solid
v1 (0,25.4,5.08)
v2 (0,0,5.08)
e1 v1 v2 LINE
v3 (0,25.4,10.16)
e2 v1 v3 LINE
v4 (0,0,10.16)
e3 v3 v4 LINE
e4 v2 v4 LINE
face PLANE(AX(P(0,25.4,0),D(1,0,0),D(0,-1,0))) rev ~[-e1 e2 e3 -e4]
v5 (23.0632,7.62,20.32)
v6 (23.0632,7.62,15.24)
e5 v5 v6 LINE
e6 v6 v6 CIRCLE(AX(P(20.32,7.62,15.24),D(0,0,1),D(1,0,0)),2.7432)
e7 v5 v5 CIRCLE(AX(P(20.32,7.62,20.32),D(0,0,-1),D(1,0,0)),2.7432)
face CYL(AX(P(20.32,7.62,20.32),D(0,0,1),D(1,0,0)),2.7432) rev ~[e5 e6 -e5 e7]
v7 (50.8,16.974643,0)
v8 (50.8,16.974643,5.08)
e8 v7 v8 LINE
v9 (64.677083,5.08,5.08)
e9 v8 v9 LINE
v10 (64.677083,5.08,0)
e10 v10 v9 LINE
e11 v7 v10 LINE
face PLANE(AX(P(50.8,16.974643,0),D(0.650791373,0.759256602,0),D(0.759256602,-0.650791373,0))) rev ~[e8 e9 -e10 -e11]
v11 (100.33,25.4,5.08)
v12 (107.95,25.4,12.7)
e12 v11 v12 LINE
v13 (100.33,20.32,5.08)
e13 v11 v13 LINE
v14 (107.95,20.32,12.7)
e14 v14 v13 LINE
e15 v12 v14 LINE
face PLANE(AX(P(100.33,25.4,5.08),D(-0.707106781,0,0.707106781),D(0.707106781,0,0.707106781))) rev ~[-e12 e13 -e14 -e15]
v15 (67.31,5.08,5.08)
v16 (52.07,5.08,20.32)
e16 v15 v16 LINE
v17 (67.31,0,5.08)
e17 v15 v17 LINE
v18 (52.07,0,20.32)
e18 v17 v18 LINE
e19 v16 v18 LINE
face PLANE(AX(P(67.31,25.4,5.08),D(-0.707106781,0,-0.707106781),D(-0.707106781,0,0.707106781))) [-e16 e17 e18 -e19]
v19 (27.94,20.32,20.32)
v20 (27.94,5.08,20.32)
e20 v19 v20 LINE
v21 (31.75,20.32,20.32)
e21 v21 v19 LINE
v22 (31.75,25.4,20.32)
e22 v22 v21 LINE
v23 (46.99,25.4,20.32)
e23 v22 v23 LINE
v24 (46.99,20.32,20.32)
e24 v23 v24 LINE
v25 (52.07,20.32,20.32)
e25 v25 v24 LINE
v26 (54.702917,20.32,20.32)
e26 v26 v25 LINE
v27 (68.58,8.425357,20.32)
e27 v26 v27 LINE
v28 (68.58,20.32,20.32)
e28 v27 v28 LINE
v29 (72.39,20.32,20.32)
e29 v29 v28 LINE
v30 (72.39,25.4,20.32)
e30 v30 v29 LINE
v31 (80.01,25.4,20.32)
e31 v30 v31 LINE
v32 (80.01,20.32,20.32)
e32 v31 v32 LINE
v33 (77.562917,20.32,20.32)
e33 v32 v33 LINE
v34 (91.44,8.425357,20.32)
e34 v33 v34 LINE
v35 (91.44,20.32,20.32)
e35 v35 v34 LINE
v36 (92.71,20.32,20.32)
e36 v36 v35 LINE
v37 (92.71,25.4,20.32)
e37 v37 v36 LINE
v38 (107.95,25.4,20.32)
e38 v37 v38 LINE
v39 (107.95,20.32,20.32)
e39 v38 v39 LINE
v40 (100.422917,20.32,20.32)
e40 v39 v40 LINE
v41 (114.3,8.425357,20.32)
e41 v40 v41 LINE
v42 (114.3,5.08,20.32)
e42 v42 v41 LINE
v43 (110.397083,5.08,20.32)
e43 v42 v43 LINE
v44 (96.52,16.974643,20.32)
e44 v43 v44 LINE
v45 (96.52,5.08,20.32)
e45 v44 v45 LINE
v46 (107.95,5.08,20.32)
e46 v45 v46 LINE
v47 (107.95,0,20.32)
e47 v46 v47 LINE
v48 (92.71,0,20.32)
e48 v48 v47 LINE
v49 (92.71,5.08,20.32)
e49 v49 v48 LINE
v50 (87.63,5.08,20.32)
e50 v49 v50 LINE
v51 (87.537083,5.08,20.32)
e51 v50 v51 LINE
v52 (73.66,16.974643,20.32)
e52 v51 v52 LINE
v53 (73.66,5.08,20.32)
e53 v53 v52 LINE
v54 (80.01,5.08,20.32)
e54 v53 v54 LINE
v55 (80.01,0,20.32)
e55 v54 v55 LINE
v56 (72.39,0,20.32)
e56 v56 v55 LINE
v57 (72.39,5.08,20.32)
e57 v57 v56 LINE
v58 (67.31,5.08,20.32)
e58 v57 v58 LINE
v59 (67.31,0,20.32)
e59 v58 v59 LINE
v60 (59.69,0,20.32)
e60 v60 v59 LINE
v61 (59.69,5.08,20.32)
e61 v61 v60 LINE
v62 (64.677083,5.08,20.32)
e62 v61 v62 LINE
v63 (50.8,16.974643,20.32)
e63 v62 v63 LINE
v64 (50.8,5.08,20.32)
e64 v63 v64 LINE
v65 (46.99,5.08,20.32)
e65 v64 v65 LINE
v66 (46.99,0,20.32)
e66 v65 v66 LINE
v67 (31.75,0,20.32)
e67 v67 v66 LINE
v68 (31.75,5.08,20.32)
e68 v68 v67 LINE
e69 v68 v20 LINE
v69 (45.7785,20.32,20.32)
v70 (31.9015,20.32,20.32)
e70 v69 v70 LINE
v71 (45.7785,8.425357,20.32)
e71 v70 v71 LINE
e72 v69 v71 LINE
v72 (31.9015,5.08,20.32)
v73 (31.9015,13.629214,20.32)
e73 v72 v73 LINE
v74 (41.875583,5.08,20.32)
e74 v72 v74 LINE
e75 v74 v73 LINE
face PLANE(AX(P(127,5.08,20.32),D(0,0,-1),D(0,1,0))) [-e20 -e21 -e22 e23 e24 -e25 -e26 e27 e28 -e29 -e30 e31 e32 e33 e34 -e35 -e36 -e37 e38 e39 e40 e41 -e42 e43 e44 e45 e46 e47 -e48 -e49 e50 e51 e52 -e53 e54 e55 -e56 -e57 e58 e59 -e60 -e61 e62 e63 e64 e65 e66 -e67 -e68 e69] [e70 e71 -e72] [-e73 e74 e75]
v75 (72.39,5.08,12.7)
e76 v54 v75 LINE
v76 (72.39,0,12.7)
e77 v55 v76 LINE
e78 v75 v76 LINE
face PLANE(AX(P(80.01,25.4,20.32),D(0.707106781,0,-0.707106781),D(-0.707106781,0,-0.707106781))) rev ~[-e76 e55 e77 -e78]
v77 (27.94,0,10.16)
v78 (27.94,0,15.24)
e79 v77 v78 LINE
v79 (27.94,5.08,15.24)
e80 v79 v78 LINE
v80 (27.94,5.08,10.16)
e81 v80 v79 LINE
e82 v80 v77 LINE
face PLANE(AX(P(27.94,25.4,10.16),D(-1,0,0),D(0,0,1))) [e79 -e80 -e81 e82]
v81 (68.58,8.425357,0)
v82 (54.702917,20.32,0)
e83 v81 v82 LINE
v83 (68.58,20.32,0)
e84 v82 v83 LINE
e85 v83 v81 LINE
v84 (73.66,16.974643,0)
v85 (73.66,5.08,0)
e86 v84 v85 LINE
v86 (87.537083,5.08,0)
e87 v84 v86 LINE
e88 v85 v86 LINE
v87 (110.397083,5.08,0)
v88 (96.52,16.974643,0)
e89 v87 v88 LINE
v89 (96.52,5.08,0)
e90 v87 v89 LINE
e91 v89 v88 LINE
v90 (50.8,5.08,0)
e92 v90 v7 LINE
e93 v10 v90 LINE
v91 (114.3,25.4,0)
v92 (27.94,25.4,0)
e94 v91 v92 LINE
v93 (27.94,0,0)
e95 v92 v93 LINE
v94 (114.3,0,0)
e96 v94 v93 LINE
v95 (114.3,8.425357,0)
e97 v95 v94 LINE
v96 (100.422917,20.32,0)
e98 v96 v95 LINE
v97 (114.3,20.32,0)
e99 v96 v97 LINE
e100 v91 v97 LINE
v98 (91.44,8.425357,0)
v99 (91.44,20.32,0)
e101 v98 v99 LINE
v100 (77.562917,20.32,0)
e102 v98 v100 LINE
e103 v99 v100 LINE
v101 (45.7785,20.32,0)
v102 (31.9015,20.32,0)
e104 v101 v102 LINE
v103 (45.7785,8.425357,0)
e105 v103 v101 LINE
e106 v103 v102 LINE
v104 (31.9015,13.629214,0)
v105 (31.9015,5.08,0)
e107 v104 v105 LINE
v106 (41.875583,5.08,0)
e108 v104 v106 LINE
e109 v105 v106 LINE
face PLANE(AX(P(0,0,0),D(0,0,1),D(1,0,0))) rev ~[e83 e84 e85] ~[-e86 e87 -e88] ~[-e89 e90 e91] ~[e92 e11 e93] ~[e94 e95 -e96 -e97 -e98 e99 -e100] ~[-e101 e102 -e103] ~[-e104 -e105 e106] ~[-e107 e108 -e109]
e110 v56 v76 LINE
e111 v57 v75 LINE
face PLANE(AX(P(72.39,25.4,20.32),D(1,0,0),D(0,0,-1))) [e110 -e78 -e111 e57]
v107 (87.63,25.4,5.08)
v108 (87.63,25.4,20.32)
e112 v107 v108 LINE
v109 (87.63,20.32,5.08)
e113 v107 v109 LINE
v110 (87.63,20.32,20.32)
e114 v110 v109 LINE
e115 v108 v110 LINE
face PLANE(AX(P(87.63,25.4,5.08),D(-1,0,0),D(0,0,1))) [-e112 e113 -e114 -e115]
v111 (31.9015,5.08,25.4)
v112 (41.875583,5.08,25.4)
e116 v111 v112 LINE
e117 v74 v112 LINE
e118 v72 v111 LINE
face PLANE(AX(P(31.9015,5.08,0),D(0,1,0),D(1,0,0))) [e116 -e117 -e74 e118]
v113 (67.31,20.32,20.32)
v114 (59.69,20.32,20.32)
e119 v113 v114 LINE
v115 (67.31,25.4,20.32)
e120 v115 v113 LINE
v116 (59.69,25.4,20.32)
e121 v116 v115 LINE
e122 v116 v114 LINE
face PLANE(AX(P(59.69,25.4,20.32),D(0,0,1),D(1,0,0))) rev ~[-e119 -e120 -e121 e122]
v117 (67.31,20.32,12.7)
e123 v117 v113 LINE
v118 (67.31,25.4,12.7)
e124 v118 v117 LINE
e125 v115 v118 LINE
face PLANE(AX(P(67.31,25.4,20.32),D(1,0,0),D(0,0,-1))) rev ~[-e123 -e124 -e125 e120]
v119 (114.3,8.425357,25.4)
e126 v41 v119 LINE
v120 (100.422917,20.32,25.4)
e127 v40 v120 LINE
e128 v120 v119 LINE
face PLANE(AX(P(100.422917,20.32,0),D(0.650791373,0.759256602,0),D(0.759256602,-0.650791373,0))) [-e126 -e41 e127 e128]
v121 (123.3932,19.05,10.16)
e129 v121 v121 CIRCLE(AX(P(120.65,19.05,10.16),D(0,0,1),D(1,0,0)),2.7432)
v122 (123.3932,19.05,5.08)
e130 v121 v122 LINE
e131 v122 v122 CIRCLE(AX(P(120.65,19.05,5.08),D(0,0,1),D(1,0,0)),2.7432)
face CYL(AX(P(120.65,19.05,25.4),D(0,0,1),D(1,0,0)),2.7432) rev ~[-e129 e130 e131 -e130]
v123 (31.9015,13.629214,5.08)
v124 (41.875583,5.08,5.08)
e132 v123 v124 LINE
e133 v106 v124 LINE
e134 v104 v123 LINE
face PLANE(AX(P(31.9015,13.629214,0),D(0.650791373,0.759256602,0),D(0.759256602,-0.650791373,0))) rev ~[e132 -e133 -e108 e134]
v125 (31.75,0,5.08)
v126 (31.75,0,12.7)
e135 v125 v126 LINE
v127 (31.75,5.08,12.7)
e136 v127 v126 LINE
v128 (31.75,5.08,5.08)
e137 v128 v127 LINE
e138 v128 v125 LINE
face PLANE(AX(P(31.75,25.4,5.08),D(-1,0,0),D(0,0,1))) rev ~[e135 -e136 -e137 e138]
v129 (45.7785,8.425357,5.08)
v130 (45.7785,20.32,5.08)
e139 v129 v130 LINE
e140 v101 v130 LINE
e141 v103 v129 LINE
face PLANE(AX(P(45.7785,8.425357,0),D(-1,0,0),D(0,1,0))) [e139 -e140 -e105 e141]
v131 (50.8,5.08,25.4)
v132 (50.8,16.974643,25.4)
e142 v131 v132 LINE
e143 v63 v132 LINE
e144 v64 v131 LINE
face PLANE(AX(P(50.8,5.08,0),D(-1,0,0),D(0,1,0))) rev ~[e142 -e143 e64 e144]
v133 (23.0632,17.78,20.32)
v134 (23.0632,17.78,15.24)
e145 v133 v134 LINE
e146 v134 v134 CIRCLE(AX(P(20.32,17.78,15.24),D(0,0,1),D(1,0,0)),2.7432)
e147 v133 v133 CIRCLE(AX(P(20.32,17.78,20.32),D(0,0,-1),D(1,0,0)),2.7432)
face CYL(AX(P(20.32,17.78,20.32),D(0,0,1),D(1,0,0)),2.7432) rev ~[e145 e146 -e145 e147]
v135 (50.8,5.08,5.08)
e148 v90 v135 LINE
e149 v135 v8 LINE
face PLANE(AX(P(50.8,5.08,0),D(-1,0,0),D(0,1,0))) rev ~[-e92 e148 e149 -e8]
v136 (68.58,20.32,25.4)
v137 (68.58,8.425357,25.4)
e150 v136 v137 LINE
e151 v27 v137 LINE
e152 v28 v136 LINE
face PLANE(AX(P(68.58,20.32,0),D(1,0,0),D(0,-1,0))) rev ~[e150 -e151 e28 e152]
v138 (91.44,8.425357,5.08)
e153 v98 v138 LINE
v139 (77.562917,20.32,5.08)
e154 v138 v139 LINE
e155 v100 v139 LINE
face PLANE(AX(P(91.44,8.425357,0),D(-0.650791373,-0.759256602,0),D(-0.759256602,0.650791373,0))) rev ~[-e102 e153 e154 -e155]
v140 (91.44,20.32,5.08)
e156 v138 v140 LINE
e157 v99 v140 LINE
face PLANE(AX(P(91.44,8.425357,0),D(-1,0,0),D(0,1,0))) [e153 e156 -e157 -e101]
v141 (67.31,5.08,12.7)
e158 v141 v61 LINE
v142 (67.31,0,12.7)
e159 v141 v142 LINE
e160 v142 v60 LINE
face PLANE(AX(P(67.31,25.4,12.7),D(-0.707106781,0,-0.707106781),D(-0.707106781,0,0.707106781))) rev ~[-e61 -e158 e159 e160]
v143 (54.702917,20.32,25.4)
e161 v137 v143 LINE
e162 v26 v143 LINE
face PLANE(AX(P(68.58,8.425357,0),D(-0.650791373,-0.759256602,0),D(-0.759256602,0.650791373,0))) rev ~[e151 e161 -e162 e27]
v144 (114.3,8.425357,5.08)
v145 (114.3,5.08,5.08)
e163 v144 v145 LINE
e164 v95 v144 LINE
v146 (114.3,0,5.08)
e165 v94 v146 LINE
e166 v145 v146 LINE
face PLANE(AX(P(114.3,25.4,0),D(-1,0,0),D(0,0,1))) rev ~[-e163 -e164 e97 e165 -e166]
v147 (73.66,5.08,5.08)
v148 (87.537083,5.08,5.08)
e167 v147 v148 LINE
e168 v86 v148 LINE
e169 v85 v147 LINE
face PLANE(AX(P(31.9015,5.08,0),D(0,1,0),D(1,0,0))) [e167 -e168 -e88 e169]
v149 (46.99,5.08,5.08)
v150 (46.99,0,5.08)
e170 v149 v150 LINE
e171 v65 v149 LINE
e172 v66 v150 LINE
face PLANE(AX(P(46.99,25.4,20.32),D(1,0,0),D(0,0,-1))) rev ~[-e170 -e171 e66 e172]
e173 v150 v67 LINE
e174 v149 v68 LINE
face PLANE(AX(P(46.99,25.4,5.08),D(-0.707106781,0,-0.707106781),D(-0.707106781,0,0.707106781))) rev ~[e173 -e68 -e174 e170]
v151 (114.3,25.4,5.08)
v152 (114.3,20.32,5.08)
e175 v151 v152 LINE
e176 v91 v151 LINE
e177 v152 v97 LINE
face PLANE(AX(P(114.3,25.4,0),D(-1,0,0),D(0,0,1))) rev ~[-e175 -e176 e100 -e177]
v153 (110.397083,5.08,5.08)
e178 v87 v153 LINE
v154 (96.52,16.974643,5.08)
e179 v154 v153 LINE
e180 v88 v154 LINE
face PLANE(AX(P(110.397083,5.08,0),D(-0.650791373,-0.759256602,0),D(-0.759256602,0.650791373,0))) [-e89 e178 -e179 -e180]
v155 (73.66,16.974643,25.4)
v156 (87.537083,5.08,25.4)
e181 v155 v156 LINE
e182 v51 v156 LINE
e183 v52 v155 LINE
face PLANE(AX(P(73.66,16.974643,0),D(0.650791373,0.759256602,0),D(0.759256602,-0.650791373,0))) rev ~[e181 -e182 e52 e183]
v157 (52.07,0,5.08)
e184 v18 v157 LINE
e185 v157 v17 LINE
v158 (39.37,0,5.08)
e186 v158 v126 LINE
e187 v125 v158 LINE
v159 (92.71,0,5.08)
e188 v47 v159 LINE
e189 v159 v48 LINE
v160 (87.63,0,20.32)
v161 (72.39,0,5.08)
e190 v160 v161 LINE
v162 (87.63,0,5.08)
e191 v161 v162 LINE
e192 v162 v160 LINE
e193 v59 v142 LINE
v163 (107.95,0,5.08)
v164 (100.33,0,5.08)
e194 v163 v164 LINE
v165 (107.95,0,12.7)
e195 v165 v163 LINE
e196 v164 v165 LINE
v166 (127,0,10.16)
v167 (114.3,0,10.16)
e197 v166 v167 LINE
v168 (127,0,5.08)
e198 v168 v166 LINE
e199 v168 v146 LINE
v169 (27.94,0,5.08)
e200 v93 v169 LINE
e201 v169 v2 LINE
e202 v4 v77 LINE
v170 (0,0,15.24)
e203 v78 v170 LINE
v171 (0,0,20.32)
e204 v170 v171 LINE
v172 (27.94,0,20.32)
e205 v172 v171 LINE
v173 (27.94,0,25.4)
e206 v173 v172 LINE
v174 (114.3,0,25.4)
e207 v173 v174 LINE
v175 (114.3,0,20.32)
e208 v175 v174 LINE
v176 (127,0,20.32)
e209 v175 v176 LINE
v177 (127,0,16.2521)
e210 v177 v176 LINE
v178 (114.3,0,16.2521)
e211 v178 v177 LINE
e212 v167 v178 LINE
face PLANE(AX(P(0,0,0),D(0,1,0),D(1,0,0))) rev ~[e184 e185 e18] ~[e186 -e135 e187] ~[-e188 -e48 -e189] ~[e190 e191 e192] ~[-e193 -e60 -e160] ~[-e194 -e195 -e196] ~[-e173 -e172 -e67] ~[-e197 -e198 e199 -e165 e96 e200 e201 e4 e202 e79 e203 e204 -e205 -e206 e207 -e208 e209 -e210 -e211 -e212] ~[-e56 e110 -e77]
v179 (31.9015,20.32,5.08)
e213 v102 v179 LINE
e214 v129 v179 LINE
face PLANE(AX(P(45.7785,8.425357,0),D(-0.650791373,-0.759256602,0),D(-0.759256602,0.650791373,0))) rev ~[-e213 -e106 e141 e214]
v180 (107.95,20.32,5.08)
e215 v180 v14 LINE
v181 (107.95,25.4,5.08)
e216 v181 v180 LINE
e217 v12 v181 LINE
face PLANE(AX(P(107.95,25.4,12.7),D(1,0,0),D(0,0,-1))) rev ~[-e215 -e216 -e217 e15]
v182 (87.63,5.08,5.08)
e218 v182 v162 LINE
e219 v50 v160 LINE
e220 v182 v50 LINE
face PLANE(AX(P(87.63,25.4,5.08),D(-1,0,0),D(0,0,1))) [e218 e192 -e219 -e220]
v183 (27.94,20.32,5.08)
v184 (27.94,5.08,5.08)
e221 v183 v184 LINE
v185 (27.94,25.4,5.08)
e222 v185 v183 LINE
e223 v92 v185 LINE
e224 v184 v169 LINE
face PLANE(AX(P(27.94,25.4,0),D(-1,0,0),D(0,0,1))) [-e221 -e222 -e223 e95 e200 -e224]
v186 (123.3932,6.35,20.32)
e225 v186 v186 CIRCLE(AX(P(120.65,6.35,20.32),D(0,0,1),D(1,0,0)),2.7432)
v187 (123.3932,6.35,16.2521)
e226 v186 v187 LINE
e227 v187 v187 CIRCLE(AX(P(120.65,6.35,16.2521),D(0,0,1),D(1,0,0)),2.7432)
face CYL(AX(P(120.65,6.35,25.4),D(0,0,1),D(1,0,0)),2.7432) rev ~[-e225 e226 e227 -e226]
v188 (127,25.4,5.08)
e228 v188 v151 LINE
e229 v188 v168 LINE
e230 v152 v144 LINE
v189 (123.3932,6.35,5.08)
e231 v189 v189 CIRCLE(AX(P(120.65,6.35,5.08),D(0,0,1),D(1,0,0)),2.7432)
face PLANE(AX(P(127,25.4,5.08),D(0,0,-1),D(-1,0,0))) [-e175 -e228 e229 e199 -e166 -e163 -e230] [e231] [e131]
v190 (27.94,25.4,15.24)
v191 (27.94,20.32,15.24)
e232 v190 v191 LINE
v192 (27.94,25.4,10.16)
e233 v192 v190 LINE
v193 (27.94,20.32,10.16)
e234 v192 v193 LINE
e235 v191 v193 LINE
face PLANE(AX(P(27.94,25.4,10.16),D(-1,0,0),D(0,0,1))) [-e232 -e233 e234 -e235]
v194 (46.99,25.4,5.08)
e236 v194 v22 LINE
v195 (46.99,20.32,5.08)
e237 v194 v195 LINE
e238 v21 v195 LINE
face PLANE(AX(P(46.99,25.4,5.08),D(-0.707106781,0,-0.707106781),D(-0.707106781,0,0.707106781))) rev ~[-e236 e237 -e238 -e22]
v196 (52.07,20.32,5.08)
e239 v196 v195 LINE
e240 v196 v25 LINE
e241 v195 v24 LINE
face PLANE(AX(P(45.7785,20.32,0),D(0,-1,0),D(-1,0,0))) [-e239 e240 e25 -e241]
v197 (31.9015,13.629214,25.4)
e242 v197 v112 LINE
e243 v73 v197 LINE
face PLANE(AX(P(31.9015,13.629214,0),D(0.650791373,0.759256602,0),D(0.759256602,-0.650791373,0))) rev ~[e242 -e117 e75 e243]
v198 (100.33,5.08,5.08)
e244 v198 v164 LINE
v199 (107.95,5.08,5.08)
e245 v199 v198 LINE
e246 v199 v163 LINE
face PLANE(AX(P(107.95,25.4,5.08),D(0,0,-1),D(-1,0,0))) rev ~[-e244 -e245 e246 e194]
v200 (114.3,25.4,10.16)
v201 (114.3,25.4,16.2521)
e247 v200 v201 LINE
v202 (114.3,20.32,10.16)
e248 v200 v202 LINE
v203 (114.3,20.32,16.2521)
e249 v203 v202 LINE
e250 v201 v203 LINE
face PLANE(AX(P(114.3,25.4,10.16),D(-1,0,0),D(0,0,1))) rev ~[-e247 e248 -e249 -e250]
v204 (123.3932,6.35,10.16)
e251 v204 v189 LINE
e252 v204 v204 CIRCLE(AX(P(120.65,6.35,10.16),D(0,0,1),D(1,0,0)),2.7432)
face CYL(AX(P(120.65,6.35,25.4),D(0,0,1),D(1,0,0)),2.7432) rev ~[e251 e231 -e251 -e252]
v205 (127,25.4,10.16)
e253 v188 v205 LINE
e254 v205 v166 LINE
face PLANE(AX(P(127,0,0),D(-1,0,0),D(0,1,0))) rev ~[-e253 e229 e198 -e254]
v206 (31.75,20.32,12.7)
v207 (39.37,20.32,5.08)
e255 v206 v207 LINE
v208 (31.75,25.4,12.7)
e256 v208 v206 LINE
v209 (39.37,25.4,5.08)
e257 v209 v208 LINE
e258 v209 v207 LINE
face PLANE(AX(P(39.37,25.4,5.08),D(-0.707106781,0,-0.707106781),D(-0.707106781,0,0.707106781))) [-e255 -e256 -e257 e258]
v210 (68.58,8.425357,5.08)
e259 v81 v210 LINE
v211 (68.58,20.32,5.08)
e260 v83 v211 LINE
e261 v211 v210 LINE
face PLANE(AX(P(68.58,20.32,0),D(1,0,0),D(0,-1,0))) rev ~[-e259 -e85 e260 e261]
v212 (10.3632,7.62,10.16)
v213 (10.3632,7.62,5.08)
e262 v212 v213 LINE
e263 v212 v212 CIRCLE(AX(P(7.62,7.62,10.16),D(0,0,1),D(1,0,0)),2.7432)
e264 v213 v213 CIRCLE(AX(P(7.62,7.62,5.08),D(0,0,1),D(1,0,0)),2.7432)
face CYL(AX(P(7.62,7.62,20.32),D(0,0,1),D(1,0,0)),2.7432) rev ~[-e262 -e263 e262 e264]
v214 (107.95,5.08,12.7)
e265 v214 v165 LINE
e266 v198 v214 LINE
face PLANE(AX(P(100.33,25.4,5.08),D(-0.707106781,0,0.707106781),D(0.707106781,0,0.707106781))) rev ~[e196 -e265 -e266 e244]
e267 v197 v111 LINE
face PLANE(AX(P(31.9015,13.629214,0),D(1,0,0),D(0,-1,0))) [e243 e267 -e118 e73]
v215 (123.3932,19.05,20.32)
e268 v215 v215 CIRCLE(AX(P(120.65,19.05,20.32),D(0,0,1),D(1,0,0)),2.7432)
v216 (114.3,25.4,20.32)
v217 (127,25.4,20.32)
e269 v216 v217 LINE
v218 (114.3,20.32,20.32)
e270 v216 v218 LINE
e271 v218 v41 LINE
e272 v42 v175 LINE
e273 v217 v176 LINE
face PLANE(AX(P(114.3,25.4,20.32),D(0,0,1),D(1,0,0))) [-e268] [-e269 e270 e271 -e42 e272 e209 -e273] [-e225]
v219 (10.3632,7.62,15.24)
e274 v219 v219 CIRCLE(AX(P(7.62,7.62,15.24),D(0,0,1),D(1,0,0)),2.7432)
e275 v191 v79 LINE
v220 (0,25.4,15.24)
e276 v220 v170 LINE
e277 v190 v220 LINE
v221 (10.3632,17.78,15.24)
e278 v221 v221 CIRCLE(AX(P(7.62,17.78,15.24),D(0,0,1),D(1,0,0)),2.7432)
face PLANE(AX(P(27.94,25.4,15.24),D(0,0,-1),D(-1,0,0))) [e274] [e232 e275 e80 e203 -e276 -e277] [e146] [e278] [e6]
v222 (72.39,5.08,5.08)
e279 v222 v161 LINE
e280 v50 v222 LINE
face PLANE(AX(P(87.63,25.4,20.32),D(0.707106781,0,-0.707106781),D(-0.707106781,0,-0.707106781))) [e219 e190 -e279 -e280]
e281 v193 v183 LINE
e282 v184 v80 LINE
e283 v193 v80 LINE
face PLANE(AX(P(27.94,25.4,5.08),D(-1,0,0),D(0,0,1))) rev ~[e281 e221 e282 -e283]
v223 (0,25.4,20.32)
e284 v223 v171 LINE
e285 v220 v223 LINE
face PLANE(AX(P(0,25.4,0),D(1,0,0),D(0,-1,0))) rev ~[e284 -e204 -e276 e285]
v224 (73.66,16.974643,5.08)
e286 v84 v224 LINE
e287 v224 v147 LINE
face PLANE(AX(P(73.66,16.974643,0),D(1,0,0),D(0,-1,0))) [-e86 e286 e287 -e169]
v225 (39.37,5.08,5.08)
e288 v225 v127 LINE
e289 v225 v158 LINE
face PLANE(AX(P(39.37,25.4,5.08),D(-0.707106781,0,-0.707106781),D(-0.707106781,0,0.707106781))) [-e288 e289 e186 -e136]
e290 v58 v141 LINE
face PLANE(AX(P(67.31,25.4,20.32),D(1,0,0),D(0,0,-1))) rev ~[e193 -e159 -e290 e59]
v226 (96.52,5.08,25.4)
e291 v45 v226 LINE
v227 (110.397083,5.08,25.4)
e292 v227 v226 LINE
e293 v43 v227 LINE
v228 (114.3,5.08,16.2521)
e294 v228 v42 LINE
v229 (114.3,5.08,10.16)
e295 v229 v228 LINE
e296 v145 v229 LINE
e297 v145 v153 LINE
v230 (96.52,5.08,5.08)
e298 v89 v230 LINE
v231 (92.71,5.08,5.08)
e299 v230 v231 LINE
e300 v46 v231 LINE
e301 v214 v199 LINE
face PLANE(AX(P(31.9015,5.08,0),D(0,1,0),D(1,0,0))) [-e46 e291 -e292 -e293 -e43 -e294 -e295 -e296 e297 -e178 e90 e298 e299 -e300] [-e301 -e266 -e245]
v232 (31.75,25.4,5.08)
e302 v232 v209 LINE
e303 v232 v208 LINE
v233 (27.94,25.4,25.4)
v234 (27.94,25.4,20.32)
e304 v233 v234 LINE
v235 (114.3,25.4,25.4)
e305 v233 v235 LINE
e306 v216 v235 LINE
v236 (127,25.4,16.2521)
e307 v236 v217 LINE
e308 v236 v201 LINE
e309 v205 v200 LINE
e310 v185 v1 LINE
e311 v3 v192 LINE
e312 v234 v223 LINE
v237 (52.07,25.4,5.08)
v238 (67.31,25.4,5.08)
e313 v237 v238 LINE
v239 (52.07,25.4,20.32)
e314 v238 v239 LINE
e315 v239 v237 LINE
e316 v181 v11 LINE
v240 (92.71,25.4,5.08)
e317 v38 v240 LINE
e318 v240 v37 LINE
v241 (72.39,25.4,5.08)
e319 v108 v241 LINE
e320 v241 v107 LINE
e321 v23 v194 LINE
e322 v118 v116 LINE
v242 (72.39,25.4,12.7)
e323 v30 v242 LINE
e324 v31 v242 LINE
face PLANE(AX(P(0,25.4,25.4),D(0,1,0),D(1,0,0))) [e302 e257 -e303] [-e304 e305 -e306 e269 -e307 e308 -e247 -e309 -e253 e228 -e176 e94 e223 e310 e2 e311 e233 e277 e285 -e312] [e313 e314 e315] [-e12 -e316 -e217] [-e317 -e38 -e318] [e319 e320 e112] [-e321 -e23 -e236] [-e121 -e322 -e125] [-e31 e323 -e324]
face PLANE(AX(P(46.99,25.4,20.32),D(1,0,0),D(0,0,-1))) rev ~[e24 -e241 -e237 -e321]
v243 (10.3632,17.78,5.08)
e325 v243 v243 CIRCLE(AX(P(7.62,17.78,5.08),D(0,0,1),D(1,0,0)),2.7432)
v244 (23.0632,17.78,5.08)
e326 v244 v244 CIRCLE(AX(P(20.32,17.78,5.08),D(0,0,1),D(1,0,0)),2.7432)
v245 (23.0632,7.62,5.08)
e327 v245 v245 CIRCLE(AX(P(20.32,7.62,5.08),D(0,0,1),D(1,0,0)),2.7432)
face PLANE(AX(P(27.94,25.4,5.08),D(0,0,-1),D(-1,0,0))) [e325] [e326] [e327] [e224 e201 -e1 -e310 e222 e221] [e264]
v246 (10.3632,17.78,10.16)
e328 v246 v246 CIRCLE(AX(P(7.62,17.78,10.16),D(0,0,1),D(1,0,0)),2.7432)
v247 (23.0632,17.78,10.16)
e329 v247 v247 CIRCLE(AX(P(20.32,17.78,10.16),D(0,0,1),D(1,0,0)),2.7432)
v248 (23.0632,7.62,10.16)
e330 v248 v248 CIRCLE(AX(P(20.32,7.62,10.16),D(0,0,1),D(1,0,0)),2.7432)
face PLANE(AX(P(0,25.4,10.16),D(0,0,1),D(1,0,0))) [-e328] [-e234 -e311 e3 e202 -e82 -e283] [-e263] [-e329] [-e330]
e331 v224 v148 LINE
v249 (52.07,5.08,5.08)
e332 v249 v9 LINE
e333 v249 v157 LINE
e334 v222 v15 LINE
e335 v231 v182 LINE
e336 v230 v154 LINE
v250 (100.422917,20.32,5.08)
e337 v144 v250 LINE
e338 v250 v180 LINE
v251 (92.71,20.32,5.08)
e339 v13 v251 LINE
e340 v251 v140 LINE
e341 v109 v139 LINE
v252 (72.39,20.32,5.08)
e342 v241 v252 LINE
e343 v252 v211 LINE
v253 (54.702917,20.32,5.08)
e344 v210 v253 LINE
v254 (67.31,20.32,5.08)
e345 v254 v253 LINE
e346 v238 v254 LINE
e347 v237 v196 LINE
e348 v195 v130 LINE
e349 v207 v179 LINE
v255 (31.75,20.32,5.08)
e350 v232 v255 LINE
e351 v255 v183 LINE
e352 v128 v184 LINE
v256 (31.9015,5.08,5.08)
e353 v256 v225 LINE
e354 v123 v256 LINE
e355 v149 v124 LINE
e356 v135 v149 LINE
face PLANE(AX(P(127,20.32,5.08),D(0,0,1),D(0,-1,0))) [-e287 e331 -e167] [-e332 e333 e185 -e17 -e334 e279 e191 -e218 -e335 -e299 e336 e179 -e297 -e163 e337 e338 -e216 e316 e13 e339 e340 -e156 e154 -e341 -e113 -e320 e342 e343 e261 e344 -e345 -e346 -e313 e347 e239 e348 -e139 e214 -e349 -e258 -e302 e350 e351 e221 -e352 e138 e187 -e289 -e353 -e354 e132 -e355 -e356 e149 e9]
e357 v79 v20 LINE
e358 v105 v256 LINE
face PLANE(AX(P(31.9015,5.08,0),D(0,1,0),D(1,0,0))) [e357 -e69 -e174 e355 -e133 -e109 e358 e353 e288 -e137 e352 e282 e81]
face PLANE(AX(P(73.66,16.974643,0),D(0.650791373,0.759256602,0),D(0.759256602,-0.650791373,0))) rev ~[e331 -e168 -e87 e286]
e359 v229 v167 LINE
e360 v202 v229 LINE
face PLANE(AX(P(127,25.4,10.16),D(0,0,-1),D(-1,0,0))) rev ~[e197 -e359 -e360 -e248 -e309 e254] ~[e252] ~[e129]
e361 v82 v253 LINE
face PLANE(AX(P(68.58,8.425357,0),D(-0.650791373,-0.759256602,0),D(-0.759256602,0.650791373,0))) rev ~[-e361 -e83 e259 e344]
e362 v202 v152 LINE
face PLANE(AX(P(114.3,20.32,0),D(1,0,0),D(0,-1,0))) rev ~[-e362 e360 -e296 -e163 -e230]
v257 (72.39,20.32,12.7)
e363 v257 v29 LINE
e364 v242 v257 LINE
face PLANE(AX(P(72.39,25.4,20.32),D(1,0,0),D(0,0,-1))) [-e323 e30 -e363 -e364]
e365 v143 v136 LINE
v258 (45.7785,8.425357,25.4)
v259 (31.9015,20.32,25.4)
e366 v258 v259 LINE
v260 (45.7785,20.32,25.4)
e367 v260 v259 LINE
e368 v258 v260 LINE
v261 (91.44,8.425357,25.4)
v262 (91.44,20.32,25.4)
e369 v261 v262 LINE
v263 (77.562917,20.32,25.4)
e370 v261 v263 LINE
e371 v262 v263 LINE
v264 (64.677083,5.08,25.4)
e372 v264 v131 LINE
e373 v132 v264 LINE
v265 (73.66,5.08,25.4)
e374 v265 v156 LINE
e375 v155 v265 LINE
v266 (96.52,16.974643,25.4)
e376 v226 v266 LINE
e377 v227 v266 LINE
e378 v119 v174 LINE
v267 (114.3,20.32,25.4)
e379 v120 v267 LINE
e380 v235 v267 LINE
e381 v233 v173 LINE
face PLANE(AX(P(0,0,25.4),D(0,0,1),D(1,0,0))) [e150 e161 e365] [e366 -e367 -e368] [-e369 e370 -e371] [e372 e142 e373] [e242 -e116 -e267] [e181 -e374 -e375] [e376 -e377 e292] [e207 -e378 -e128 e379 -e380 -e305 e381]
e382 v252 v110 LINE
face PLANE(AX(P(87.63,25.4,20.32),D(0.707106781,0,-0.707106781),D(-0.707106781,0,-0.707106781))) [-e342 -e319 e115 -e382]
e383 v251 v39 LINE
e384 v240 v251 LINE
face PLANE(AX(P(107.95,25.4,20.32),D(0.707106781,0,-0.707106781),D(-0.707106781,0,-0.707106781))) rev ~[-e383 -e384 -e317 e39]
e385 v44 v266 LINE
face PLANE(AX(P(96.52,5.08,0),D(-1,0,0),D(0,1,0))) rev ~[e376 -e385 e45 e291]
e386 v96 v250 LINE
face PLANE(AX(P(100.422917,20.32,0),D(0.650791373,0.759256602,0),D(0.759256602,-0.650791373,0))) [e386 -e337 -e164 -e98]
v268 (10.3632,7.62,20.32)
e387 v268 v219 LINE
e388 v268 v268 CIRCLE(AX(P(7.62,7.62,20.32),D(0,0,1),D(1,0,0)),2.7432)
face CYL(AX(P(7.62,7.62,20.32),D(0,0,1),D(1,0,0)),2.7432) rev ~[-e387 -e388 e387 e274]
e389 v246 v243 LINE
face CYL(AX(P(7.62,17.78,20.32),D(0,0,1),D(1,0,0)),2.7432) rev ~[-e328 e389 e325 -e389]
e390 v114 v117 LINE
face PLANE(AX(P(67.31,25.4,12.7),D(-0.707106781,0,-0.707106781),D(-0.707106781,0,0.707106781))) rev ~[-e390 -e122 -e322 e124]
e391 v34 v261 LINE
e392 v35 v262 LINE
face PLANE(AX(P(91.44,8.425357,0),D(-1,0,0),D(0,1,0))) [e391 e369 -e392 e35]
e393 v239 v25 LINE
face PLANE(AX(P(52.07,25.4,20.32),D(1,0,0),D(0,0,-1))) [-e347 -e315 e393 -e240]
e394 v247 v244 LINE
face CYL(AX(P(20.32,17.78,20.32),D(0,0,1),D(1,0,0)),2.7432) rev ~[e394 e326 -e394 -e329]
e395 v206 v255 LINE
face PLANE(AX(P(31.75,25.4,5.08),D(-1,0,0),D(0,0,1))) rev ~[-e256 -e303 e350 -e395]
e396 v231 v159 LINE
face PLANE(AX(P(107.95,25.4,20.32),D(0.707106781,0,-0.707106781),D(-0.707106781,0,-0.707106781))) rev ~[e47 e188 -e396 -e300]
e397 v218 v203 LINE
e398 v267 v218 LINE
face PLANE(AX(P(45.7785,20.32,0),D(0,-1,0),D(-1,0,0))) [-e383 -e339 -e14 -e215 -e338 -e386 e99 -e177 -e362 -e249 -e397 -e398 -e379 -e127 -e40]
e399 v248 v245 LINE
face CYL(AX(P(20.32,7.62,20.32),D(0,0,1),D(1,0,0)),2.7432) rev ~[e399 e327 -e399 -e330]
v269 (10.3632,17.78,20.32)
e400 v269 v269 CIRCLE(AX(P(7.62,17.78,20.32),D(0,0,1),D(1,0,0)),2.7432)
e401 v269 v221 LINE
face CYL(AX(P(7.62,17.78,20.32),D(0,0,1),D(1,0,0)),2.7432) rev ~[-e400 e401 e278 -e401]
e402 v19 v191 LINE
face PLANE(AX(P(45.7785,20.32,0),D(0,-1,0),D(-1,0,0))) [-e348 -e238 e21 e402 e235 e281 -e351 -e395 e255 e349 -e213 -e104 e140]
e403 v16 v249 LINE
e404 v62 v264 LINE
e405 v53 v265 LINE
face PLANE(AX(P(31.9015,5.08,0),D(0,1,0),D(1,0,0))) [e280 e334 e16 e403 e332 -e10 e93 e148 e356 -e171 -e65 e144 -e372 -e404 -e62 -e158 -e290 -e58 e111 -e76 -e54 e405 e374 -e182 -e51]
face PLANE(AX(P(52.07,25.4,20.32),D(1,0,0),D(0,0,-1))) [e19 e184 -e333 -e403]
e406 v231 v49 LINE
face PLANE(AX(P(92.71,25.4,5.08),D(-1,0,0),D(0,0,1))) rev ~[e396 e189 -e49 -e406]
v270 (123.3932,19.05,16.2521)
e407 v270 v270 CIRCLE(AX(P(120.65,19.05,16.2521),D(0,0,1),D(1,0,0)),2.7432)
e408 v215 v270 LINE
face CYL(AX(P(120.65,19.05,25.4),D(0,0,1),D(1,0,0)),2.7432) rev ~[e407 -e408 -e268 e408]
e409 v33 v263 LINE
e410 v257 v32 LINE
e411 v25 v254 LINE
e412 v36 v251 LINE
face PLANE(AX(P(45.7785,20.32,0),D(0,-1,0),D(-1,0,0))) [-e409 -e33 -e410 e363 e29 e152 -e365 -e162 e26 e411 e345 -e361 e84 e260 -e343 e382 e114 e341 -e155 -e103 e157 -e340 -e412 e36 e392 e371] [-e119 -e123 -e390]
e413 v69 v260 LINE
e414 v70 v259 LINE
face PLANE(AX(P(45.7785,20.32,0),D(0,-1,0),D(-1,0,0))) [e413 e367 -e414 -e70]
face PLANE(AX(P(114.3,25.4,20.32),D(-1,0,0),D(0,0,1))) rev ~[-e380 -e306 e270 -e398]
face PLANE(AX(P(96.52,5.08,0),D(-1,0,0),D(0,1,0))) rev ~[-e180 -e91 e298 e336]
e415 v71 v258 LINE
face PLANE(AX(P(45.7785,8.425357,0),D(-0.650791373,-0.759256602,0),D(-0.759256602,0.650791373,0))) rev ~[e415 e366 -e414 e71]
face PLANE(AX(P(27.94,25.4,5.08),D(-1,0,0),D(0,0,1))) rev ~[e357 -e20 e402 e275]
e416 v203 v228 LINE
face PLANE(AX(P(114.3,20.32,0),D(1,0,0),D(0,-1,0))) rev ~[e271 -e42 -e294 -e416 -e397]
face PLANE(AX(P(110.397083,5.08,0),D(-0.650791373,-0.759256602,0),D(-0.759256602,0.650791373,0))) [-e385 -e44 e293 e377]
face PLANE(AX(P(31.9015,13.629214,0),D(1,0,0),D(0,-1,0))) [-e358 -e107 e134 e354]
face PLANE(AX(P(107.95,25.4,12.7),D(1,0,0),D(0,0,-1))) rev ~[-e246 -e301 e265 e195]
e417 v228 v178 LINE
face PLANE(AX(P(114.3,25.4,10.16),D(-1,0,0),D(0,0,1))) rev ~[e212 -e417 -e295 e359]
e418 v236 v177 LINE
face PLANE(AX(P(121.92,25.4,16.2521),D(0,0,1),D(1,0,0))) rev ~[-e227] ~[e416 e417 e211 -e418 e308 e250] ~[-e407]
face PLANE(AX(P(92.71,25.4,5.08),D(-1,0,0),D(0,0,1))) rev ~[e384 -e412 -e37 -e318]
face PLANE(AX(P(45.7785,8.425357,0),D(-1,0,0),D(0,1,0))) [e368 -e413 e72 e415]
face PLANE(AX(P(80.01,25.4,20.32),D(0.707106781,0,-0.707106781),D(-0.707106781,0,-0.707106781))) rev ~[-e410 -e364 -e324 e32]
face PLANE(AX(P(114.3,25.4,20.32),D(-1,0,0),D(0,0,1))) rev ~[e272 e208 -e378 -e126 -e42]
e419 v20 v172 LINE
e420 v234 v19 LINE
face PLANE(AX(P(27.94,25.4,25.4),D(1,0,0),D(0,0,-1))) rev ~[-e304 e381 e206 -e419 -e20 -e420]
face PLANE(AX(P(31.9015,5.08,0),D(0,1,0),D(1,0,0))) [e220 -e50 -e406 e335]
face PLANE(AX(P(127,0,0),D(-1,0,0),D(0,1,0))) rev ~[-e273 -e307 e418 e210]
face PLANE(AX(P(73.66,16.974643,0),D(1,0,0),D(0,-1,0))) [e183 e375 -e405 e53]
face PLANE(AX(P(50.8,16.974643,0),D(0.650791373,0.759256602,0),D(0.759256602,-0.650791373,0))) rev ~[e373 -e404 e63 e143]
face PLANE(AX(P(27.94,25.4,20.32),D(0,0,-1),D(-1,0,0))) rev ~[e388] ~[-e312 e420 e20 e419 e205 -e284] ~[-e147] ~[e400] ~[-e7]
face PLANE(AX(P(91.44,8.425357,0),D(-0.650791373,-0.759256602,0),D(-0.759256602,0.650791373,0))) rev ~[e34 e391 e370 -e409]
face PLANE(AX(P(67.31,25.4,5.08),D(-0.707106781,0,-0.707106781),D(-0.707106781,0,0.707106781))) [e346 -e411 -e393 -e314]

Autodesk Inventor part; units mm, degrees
ref_plane "YZ Plane" through (0, 0, 0) normal (1, 0, 0) x (0, 1, 0)
ref_plane "XZ Plane" through (0, 0, 0) normal (0, 1, 0) x (-1, 0, 0)
ref_plane "XY Plane" through (0, 0, 0) normal (0, 0, 1) x (1, 0, 0)
sketch "Sketch1" plane through (0, 0, 0) normal (0, 0, 1) x (1, 0, 0)
  line L0 (0, 0) -> (127, 0)
  line L1 (127, 0) -> (127, 25.4)
  line L2 (127, 25.4) -> (0, 25.4)
  line L3 (0, 25.4) -> (0, 0)
  line L4 (0, 0) -> (12.7, 0)
  line L5 (12.7, 25.4) -> (0, 25.4)
  line L6 (0, 25.4) -> (0, 0)
  line L7 (7.62, 25.4) -> (0, 25.4)
  line L8 (0, 25.4) -> (0, -8.7611)
  line L9 (125.2545, 0) -> (125.2545, 25.4)
  circle A0 centre (121.4445, 4.9881) radius 2.2479
  circle A1 centre (121.4445, 12.6081) radius 2.2479
  circle A2 centre (121.4445, 20.2281) radius 2.2479
  line L10 (125.2545, 0) -> (117.6345, 0)
  line L11 (117.6345, 0) -> (117.6345, 25.4)
  line L12 (125.2545, 25.4) -> (117.6345, 25.4)
  line L13 (21.1145, 0) -> (21.1145, 25.4)
  circle A3 centre (5.08, 6.985) radius 2.2479
  line L14 (5.08, 6.985) -> (17.78, 6.985)
  circle A4 centre (17.78, 6.985) radius 2.2479
  circle A5 centre (5.08, 19.05) radius 2.2479
  line L15 (5.08, 19.05) -> (17.78, 19.05)
  circle A6 centre (17.78, 19.05) radius 2.2479
  line L16 (27.9985, 5.08) -> (27.9985, 20.32)
  line L17 (27.9985, 5.08) -> (45.7785, 5.08)
  line L18 (45.7785, 5.08) -> (45.7785, 20.32)
  line L19 (45.7785, 20.32) -> (27.9985, 20.32)
  line L20 (27.9985, 20.32) -> (27.9985, 5.08)
  line L21 (50.8, 20.32) -> (68.58, 20.32)
  line L22 (68.58, 20.32) -> (68.58, 5.08)
  line L23 (68.58, 5.08) -> (50.8, 5.08)
  line L24 (50.8, 5.08) -> (50.8, 20.32)
  line L25 (73.66, 5.08) -> (91.44, 5.08)
  line L26 (91.44, 5.08) -> (91.44, 20.32)
  line L27 (91.44, 20.32) -> (73.66, 20.32)
  line L28 (73.66, 20.32) -> (73.66, 5.08)
  line L29 (96.52, 20.32) -> (114.3, 20.32)
  line L30 (114.3, 20.32) -> (114.3, 5.08)
  line L31 (114.3, 5.08) -> (96.52, 5.08)
  line L32 (96.52, 5.08) -> (96.52, 20.32)
  line L33 (27.9985, 20.32) -> (45.7785, 5.08)
  line L34 (50.8, 20.32) -> (68.58, 5.08)
  line L35 (73.66, 20.32) -> (91.44, 5.08)
  line L36 (96.52, 20.32) -> (114.3, 5.08)
  line L37 (26.3455, 18.3915) -> (44.1255, 3.1515)
  line L38 (44.1255, 3.1515) -> (47.4315, 7.0085)
  line L39 (47.4315, 7.0085) -> (29.6515, 22.2485)
  line L40 (29.6515, 22.2485) -> (26.3455, 18.3915)
  line L41 (26.3455, 18.3915) -> (47.4315, 7.0085) construction
  line L42 (44.1255, 3.1515) -> (29.6515, 22.2485) construction
  line L43 (49.147, 18.3915) -> (66.927, 3.1515)
  line L44 (66.927, 3.1515) -> (70.233, 7.0085)
  line L45 (70.233, 7.0085) -> (52.453, 22.2485)
  line L46 (52.453, 22.2485) -> (49.147, 18.3915)
  line L47 (49.147, 18.3915) -> (70.233, 7.0085) construction
  line L48 (66.927, 3.1515) -> (52.453, 22.2485) construction
  line L49 (72.007, 18.3915) -> (89.787, 3.1515)
  line L50 (89.787, 3.1515) -> (93.093, 7.0085)
  line L51 (93.093, 7.0085) -> (75.313, 22.2485)
  line L52 (75.313, 22.2485) -> (72.007, 18.3915)
  line L53 (72.007, 18.3915) -> (93.093, 7.0085) construction
  line L54 (89.787, 3.1515) -> (75.313, 22.2485) construction
  line L55 (98.173, 22.2485) -> (115.953, 7.0085)
  line L56 (115.953, 7.0085) -> (112.647, 3.1515)
  line L57 (112.647, 3.1515) -> (94.867, 18.3915)
  line L58 (94.867, 18.3915) -> (98.173, 22.2485)
  line L59 (98.173, 22.2485) -> (112.647, 3.1515) construction
  line L60 (115.953, 7.0085) -> (94.867, 18.3915) construction
  line L61 (31.9015, 20.32) -> (31.9015, 5.08)
  point P0 (5.08, 5.6325)
  point P1 (5.08, 20.32)
  point P2 (6.5976, 20.3417)
  point P3 (36.8885, 12.7)
  point P4 (59.69, 12.7)
  point P5 (82.55, 12.7)
  point P6 (105.41, 12.7)
  point P7 (41.8756, 5.08)
  point P8 (27.9985, 16.9746)
  point P9 (114.3, 8.4254)
  point P10 (100.4229, 20.32)
  point P11 (91.44, 8.4254)
  point P12 (77.5629, 20.32)
  point P13 (68.58, 8.4254)
  point P14 (54.7029, 20.32)
  point P15 (110.3971, 5.08)
  point P16 (96.52, 16.9746)
  point P17 (87.5371, 5.08)
  point P18 (73.66, 16.9746)
  point P19 (64.6771, 5.08)
  point P20 (50.8, 16.9746)
  point P21 (45.7785, 8.4254)
  point P22 (31.9015, 13.6292)
  point P23 (5.08, 19.05)
  point P24 (17.78, 25.4)
  point P25 (17.78, 6.985)
  dimension "d0" = 127
  dimension "d1" = 25.4
  dimension "d20" = 25.4
  dimension "d21" = 4.4958
  dimension "d22" = 4.4958
  dimension "d23" = 4.4958
  dimension "d24" = 7.62
  dimension "d26" = 4.4958
  dimension "d27" = 12.7
  dimension "d28" = 4.4958
  dimension "d29" = 4.4958
  dimension "d30" = 12.7
  dimension "d31" = 4.4958
  dimension "d35" = 96.52
  dimension "d36" = 15.24
  dimension "d37" = 17.78
  dimension "d38" = 17.78
  dimension "d39" = 17.78
  dimension "d40" = 17.78
  dimension "d41" = 5.08
  dimension "d42" = 5.08
  dimension "d43" = 5.08
  dimension "d44" = 5.08
extrude "Extrusion1" add sketch "Sketch1" along normal blind 25.4 contours L3 L2 L13 L0 | L13 L2 L11 L0 | L11 L2 L9 L0 | L9 L2 L1 L0 | L16 L37 L61 L17 | L37 L40 L16 | L16 L33 L61 L37 | L40 L39 L19 | L19 L61 L33 | L61 L33 L17 L37 | L17 L38 L37 | L39 L18 L33 L61 | L18 L39 L38 | L46 L45 L21 | L34 L23 L43 L24 | L21 L45 L22 L34 | L24 L43 L46 | L44 L43 L23 | L22 L45 L44 | L49 L28 L35 L25 | L25 L50 L49 | L49 L52 L28 | L35 L27 L51 L26 | L26 L51 L50 | L52 L51 L27 | L58 L55 L29 | L36 L31 L57 L32 | L29 L55 L30 L36 | L32 L57 L58 | L56 L57 L31 | L30 L55 L56
sketch "Sketch2" plane through (0, 25.4, 0) normal (0, 1, 0) x (1, 0, 0)
  line L0 (0, -25.4) -> (127, -25.4)
  line L1 (127, -25.4) -> (127, 0)
  line L2 (127, 0) -> (0, 0)
  line L3 (0, 0) -> (0, -25.4)
  line L4 (31.75, -20.32) -> (46.99, -20.32)
  line L5 (46.99, -20.32) -> (46.99, -5.08)
  line L6 (46.99, -5.08) -> (31.75, -20.32)
  line L7 (52.07, -20.32) -> (52.07, -5.08)
  line L8 (52.07, -5.08) -> (67.31, -5.08)
  line L9 (67.31, -5.08) -> (52.07, -20.32)
  line L10 (72.39, -5.08) -> (87.63, -5.08)
  line L11 (87.63, -5.08) -> (87.63, -20.32)
  line L12 (87.63, -20.32) -> (72.39, -5.08)
  line L13 (92.71, -5.08) -> (92.71, -20.32)
  line L14 (92.71, -20.32) -> (107.95, -20.32)
  line L15 (107.95, -20.32) -> (92.71, -5.08)
  line L16 (31.75, -5.08) -> (31.75, -12.7)
  line L17 (31.75, -5.08) -> (39.37, -5.08)
  line L18 (39.37, -5.08) -> (31.75, -12.7)
  line L19 (59.69, -20.32) -> (67.31, -20.32)
  line L20 (67.31, -20.32) -> (67.31, -12.7)
  line L21 (67.31, -12.7) -> (59.69, -20.32)
  line L22 (72.39, -20.32) -> (72.39, -12.7)
  line L23 (72.39, -20.32) -> (80.01, -20.32)
  line L24 (80.01, -20.32) -> (72.39, -12.7)
  line L25 (107.95, -12.7) -> (107.95, -5.08)
  line L26 (107.95, -5.08) -> (100.33, -5.08)
  line L27 (100.33, -5.08) -> (107.95, -12.7)
  line L28 (0, -25.4) -> (127, -25.4) projected
  point P0 (0, 0)
  point P1 (40.64, -20.32)
  dimension "d47" = 127
  dimension "d48" = 25.4
  dimension "d51" = 15.24
  dimension "d52" = 15.24
  dimension "d53" = 15.24
  dimension "d54" = 15.24
  dimension "d55" = 15.24
  dimension "d56" = 15.24
  dimension "d62" = 7.62
  dimension "d63" = 7.62
  dimension "d64" = 7.62
sketch "Sketch3" plane through (127, 0, 0) normal (1, 0, 0) x (0, 0, -1)
  line L0 (0, 20.32) -> (-25.4, 20.32) projected
  line L1 (-5.08, 5.08) -> (-20.32, 5.08)
  line L2 (-20.32, 5.08) -> (-20.32, 20.32)
  line L3 (-20.32, 20.32) -> (-5.08, 20.32)
  line L4 (-5.08, 20.32) -> (-5.08, 5.08)
  point P0 (0, 0)
  dimension "d65" = 15.24
extrude "Extrusion2" cut sketch "Sketch3" against normal through all
sketch "Sketch5" plane through (0, 25.4, 0) normal (0, 1, 0) x (1, 0, 0)
  point P0 (0, 0)
sketch "Sketch6" plane through (0, 25.4, 0) normal (0, 1, 0) x (1, 0, 0)
  point P0 (0, 0)
  point P1 (27.94, -20.32)
extrude "Extrusion4" cut sketch "Sketch2" against normal through all contours L6 L5 L4 | L7 L8 L9 | L10 L11 L12 | L15 L14 L13 | L17 L18 L16 | L21 L20 L19 | L22 L24 L23 | L27 L26 L25
sketch "Sketch7" plane through (0, 0, 25.4) normal (0, 0, 1) x (1, 0, 0)
  line L0 (127, 0) -> (127, 25.4) projected
  line L1 (114.3, 20.32) -> (114.3, 8.4254) projected
  line L2 (0, 0) -> (127, 0) projected
  line L3 (120.65, 0) -> (120.65, 25.4)
  line L4 (127, 25.4) -> (0, 25.4) projected
  circle A0 centre (120.65, 19.05) radius 2.7432
  circle A1 centre (120.65, 6.35) radius 2.7432
  point P0 (121.4445, 12.6081)
  point P1 (121.4445, 20.2281)
  point P2 (121.4445, 4.9881)
  point P3 (120.65, 20.32)
  point P4 (120.65, 12.7)
  point P5 (120.65, 5.08)
  dimension "d84" = 12.7
  dimension "d108" = 5.4864
  dimension "d109" = 5.4864
sketch "Sketch8" plane through (0, 0, 0) normal (0, 0, -1) x (-1, 0, 0)
  line L0 (-127, 25.4) -> (0, 25.4) projected
  line L1 (-127, 0) -> (-127, 25.4) projected
  line L2 (-114.3, 25.4) -> (-127, 25.4)
  line L3 (-127, 25.4) -> (-127, 0)
  line L4 (-127, 0) -> (-114.3, 0)
  line L5 (-114.3, 0) -> (-114.3, 25.4)
  point P0 (0, 0)
extrude "Extrusion5" add sketch "Sketch8" against normal blind 25.4
sketch "Sketch9" plane through (0, 25.4, 0) normal (0, 1, 0) x (1, 0, 0)
  line L0 (127, 0) -> (127, -25.4) projected
  line L1 (114.3, -20.32) -> (110.3971, -20.32) projected
  line L2 (127, -5.08) -> (114.3, -5.08)
  line L3 (114.3, -5.08) -> (114.3, -20.32)
  line L4 (114.3, -20.32) -> (127, -20.32)
  line L5 (127, -20.32) -> (127, -5.08)
  line L6 (114.3, 0) -> (114.3, -5.08) projected
  line L7 (114.3, -5.08) -> (127, -5.08)
  line L8 (127, -5.08) -> (127, 0)
  line L9 (127, 0) -> (114.3, 0)
  line L10 (114.3, 0) -> (114.3, -5.08)
  line L11 (127, -20.32) -> (114.3, -20.32)
  line L12 (114.3, -20.32) -> (114.3, -25.4)
  line L13 (114.3, -25.4) -> (127, -25.4)
  line L14 (127, -25.4) -> (127, -20.32)
  line L15 (114.3, -5.08) -> (127, -5.08)
  line L16 (127, -5.08) -> (127, -10.16)
  line L17 (127, -10.16) -> (114.3, -10.16)
  line L18 (114.3, -10.16) -> (114.3, -5.08)
  line L19 (127, -20.32) -> (121.92, -20.32)
  line L20 (121.92, -20.32) -> (121.92, -16.2521)
  line L21 (121.92, -16.2521) -> (127, -16.2521)
  line L22 (127, -16.2521) -> (127, -20.32)
  line L23 (114.3, 0) -> (114.3, -25.4) projected
  line L24 (121.92, -20.32) -> (114.3, -20.32)
  line L25 (114.3, -20.32) -> (114.3, -16.2521)
  line L26 (114.3, -16.2521) -> (121.92, -16.2521)
  line L27 (121.92, -16.2521) -> (121.92, -20.32)
  point P0 (0, 0)
  dimension "d75" = 12.7
  dimension "d76" = 5.08
  dimension "d77" = 5.08
sketch "Sketch11" plane through (0, 25.4, 25.4) normal (0, 1, 0) x (1, 0, 0)
  line L0 (0, 25.4) -> (0, 0) projected
  line L1 (0, 20.32) -> (27.94, 20.32)
  line L2 (27.94, 20.32) -> (27.94, 5.08)
  line L3 (27.94, 5.08) -> (0, 5.08)
  line L4 (0, 5.08) -> (0, 20.32)
  dimension "d90" = 27.94
extrude "Extrusion10" add sketch "Sketch11" against normal blind 25.4
sketch "Sketch13" plane through (0, 25.4, 25.4) normal (0, 1, 0) x (1, 0, 0)
  line L0 (0, 25.4) -> (0, 0) projected
  line L1 (0, 10.16) -> (0, 15.24)
  line L2 (0, 10.16) -> (0, 15.24)
  line L3 (0, 15.24) -> (27.94, 15.24)
  line L4 (27.94, 15.24) -> (27.94, 10.16)
  line L5 (27.94, 10.16) -> (0, 10.16)
  line L6 (0, 25.4) -> (0, 0) projected
  dimension "d96" = 27.94
extrude "Extrusion12" cut sketch "Sketch13" against normal blind 25.4
sketch "Sketch14" plane through (0, 25.4, 25.4) normal (0, 1, 0) x (1, 0, 0)
  line L0 (0, 25.4) -> (127, 25.4) projected
  line L1 (27.94, 20.32) -> (27.94, 15.24) projected
  line L2 (0, 25.4) -> (27.94, 25.4)
  line L3 (27.94, 25.4) -> (27.94, 20.32)
  line L4 (27.94, 20.32) -> (0, 20.32)
  line L5 (0, 20.32) -> (0, 25.4)
  line L6 (127, 0) -> (0, 0) projected
  line L7 (0, 0) -> (27.94, 0)
  line L8 (27.94, 0) -> (27.94, 5.08)
  line L9 (27.94, 5.08) -> (0, 5.08)
  line L10 (0, 5.08) -> (0, 0)
  point P0 (114.3, 25.4)
  point P1 (114.3, 0)
  dimension "d99" = 5.08
extrude "Extrusion13" cut sketch "Sketch14" against normal through all
extrude "Extrusion15" cut sketch "Sketch9" against normal through all contours L0 L2 L6 L9 | L0 L21 L26 L3 L17 | L0 L13 L12 L4
extrude "Extrusion16" cut sketch "Sketch7" against normal through all contours A1 L3 | L3 A1 | A0 L3 | L3 A0
sketch "Sketch16" plane through (0, 0, 20.32) normal (0, 0, 1) x (1, 0, 0)
  line L0 (13.97, 17.78) -> (7.62, 17.78)
  line L1 (13.97, 17.78) -> (20.32, 17.78)
  circle A0 centre (7.62, 17.78) radius 2.7432
  circle A1 centre (20.32, 17.78) radius 2.7432
  line L2 (0, 0) -> (0, 25.4) projected
  line L3 (27.94, 25.4) -> (27.94, 0) projected
  line L4 (0, 25.4) -> (27.94, 25.4) projected
  line L5 (13.97, 7.62) -> (7.62, 7.62)
  line L6 (13.97, 7.62) -> (20.32, 7.62)
  circle A2 centre (7.62, 7.62) radius 2.7432
  circle A3 centre (20.32, 7.62) radius 2.7432
  dimension "d112" = 6.35
  dimension "d113" = 6.35
  dimension "d114" = 5.4864
  dimension "d115" = 5.4864
  dimension "d116" = 7.62
  dimension "d117" = 7.62
  dimension "d118" = 7.62
  dimension "d119" = 6.35
  dimension "d120" = 6.35
  dimension "d121" = 5.4864
  dimension "d122" = 5.4864
extrude "Extrusion17" cut sketch "Sketch16" against normal through all
properties part number "Final design" material "ABS Plastic"
